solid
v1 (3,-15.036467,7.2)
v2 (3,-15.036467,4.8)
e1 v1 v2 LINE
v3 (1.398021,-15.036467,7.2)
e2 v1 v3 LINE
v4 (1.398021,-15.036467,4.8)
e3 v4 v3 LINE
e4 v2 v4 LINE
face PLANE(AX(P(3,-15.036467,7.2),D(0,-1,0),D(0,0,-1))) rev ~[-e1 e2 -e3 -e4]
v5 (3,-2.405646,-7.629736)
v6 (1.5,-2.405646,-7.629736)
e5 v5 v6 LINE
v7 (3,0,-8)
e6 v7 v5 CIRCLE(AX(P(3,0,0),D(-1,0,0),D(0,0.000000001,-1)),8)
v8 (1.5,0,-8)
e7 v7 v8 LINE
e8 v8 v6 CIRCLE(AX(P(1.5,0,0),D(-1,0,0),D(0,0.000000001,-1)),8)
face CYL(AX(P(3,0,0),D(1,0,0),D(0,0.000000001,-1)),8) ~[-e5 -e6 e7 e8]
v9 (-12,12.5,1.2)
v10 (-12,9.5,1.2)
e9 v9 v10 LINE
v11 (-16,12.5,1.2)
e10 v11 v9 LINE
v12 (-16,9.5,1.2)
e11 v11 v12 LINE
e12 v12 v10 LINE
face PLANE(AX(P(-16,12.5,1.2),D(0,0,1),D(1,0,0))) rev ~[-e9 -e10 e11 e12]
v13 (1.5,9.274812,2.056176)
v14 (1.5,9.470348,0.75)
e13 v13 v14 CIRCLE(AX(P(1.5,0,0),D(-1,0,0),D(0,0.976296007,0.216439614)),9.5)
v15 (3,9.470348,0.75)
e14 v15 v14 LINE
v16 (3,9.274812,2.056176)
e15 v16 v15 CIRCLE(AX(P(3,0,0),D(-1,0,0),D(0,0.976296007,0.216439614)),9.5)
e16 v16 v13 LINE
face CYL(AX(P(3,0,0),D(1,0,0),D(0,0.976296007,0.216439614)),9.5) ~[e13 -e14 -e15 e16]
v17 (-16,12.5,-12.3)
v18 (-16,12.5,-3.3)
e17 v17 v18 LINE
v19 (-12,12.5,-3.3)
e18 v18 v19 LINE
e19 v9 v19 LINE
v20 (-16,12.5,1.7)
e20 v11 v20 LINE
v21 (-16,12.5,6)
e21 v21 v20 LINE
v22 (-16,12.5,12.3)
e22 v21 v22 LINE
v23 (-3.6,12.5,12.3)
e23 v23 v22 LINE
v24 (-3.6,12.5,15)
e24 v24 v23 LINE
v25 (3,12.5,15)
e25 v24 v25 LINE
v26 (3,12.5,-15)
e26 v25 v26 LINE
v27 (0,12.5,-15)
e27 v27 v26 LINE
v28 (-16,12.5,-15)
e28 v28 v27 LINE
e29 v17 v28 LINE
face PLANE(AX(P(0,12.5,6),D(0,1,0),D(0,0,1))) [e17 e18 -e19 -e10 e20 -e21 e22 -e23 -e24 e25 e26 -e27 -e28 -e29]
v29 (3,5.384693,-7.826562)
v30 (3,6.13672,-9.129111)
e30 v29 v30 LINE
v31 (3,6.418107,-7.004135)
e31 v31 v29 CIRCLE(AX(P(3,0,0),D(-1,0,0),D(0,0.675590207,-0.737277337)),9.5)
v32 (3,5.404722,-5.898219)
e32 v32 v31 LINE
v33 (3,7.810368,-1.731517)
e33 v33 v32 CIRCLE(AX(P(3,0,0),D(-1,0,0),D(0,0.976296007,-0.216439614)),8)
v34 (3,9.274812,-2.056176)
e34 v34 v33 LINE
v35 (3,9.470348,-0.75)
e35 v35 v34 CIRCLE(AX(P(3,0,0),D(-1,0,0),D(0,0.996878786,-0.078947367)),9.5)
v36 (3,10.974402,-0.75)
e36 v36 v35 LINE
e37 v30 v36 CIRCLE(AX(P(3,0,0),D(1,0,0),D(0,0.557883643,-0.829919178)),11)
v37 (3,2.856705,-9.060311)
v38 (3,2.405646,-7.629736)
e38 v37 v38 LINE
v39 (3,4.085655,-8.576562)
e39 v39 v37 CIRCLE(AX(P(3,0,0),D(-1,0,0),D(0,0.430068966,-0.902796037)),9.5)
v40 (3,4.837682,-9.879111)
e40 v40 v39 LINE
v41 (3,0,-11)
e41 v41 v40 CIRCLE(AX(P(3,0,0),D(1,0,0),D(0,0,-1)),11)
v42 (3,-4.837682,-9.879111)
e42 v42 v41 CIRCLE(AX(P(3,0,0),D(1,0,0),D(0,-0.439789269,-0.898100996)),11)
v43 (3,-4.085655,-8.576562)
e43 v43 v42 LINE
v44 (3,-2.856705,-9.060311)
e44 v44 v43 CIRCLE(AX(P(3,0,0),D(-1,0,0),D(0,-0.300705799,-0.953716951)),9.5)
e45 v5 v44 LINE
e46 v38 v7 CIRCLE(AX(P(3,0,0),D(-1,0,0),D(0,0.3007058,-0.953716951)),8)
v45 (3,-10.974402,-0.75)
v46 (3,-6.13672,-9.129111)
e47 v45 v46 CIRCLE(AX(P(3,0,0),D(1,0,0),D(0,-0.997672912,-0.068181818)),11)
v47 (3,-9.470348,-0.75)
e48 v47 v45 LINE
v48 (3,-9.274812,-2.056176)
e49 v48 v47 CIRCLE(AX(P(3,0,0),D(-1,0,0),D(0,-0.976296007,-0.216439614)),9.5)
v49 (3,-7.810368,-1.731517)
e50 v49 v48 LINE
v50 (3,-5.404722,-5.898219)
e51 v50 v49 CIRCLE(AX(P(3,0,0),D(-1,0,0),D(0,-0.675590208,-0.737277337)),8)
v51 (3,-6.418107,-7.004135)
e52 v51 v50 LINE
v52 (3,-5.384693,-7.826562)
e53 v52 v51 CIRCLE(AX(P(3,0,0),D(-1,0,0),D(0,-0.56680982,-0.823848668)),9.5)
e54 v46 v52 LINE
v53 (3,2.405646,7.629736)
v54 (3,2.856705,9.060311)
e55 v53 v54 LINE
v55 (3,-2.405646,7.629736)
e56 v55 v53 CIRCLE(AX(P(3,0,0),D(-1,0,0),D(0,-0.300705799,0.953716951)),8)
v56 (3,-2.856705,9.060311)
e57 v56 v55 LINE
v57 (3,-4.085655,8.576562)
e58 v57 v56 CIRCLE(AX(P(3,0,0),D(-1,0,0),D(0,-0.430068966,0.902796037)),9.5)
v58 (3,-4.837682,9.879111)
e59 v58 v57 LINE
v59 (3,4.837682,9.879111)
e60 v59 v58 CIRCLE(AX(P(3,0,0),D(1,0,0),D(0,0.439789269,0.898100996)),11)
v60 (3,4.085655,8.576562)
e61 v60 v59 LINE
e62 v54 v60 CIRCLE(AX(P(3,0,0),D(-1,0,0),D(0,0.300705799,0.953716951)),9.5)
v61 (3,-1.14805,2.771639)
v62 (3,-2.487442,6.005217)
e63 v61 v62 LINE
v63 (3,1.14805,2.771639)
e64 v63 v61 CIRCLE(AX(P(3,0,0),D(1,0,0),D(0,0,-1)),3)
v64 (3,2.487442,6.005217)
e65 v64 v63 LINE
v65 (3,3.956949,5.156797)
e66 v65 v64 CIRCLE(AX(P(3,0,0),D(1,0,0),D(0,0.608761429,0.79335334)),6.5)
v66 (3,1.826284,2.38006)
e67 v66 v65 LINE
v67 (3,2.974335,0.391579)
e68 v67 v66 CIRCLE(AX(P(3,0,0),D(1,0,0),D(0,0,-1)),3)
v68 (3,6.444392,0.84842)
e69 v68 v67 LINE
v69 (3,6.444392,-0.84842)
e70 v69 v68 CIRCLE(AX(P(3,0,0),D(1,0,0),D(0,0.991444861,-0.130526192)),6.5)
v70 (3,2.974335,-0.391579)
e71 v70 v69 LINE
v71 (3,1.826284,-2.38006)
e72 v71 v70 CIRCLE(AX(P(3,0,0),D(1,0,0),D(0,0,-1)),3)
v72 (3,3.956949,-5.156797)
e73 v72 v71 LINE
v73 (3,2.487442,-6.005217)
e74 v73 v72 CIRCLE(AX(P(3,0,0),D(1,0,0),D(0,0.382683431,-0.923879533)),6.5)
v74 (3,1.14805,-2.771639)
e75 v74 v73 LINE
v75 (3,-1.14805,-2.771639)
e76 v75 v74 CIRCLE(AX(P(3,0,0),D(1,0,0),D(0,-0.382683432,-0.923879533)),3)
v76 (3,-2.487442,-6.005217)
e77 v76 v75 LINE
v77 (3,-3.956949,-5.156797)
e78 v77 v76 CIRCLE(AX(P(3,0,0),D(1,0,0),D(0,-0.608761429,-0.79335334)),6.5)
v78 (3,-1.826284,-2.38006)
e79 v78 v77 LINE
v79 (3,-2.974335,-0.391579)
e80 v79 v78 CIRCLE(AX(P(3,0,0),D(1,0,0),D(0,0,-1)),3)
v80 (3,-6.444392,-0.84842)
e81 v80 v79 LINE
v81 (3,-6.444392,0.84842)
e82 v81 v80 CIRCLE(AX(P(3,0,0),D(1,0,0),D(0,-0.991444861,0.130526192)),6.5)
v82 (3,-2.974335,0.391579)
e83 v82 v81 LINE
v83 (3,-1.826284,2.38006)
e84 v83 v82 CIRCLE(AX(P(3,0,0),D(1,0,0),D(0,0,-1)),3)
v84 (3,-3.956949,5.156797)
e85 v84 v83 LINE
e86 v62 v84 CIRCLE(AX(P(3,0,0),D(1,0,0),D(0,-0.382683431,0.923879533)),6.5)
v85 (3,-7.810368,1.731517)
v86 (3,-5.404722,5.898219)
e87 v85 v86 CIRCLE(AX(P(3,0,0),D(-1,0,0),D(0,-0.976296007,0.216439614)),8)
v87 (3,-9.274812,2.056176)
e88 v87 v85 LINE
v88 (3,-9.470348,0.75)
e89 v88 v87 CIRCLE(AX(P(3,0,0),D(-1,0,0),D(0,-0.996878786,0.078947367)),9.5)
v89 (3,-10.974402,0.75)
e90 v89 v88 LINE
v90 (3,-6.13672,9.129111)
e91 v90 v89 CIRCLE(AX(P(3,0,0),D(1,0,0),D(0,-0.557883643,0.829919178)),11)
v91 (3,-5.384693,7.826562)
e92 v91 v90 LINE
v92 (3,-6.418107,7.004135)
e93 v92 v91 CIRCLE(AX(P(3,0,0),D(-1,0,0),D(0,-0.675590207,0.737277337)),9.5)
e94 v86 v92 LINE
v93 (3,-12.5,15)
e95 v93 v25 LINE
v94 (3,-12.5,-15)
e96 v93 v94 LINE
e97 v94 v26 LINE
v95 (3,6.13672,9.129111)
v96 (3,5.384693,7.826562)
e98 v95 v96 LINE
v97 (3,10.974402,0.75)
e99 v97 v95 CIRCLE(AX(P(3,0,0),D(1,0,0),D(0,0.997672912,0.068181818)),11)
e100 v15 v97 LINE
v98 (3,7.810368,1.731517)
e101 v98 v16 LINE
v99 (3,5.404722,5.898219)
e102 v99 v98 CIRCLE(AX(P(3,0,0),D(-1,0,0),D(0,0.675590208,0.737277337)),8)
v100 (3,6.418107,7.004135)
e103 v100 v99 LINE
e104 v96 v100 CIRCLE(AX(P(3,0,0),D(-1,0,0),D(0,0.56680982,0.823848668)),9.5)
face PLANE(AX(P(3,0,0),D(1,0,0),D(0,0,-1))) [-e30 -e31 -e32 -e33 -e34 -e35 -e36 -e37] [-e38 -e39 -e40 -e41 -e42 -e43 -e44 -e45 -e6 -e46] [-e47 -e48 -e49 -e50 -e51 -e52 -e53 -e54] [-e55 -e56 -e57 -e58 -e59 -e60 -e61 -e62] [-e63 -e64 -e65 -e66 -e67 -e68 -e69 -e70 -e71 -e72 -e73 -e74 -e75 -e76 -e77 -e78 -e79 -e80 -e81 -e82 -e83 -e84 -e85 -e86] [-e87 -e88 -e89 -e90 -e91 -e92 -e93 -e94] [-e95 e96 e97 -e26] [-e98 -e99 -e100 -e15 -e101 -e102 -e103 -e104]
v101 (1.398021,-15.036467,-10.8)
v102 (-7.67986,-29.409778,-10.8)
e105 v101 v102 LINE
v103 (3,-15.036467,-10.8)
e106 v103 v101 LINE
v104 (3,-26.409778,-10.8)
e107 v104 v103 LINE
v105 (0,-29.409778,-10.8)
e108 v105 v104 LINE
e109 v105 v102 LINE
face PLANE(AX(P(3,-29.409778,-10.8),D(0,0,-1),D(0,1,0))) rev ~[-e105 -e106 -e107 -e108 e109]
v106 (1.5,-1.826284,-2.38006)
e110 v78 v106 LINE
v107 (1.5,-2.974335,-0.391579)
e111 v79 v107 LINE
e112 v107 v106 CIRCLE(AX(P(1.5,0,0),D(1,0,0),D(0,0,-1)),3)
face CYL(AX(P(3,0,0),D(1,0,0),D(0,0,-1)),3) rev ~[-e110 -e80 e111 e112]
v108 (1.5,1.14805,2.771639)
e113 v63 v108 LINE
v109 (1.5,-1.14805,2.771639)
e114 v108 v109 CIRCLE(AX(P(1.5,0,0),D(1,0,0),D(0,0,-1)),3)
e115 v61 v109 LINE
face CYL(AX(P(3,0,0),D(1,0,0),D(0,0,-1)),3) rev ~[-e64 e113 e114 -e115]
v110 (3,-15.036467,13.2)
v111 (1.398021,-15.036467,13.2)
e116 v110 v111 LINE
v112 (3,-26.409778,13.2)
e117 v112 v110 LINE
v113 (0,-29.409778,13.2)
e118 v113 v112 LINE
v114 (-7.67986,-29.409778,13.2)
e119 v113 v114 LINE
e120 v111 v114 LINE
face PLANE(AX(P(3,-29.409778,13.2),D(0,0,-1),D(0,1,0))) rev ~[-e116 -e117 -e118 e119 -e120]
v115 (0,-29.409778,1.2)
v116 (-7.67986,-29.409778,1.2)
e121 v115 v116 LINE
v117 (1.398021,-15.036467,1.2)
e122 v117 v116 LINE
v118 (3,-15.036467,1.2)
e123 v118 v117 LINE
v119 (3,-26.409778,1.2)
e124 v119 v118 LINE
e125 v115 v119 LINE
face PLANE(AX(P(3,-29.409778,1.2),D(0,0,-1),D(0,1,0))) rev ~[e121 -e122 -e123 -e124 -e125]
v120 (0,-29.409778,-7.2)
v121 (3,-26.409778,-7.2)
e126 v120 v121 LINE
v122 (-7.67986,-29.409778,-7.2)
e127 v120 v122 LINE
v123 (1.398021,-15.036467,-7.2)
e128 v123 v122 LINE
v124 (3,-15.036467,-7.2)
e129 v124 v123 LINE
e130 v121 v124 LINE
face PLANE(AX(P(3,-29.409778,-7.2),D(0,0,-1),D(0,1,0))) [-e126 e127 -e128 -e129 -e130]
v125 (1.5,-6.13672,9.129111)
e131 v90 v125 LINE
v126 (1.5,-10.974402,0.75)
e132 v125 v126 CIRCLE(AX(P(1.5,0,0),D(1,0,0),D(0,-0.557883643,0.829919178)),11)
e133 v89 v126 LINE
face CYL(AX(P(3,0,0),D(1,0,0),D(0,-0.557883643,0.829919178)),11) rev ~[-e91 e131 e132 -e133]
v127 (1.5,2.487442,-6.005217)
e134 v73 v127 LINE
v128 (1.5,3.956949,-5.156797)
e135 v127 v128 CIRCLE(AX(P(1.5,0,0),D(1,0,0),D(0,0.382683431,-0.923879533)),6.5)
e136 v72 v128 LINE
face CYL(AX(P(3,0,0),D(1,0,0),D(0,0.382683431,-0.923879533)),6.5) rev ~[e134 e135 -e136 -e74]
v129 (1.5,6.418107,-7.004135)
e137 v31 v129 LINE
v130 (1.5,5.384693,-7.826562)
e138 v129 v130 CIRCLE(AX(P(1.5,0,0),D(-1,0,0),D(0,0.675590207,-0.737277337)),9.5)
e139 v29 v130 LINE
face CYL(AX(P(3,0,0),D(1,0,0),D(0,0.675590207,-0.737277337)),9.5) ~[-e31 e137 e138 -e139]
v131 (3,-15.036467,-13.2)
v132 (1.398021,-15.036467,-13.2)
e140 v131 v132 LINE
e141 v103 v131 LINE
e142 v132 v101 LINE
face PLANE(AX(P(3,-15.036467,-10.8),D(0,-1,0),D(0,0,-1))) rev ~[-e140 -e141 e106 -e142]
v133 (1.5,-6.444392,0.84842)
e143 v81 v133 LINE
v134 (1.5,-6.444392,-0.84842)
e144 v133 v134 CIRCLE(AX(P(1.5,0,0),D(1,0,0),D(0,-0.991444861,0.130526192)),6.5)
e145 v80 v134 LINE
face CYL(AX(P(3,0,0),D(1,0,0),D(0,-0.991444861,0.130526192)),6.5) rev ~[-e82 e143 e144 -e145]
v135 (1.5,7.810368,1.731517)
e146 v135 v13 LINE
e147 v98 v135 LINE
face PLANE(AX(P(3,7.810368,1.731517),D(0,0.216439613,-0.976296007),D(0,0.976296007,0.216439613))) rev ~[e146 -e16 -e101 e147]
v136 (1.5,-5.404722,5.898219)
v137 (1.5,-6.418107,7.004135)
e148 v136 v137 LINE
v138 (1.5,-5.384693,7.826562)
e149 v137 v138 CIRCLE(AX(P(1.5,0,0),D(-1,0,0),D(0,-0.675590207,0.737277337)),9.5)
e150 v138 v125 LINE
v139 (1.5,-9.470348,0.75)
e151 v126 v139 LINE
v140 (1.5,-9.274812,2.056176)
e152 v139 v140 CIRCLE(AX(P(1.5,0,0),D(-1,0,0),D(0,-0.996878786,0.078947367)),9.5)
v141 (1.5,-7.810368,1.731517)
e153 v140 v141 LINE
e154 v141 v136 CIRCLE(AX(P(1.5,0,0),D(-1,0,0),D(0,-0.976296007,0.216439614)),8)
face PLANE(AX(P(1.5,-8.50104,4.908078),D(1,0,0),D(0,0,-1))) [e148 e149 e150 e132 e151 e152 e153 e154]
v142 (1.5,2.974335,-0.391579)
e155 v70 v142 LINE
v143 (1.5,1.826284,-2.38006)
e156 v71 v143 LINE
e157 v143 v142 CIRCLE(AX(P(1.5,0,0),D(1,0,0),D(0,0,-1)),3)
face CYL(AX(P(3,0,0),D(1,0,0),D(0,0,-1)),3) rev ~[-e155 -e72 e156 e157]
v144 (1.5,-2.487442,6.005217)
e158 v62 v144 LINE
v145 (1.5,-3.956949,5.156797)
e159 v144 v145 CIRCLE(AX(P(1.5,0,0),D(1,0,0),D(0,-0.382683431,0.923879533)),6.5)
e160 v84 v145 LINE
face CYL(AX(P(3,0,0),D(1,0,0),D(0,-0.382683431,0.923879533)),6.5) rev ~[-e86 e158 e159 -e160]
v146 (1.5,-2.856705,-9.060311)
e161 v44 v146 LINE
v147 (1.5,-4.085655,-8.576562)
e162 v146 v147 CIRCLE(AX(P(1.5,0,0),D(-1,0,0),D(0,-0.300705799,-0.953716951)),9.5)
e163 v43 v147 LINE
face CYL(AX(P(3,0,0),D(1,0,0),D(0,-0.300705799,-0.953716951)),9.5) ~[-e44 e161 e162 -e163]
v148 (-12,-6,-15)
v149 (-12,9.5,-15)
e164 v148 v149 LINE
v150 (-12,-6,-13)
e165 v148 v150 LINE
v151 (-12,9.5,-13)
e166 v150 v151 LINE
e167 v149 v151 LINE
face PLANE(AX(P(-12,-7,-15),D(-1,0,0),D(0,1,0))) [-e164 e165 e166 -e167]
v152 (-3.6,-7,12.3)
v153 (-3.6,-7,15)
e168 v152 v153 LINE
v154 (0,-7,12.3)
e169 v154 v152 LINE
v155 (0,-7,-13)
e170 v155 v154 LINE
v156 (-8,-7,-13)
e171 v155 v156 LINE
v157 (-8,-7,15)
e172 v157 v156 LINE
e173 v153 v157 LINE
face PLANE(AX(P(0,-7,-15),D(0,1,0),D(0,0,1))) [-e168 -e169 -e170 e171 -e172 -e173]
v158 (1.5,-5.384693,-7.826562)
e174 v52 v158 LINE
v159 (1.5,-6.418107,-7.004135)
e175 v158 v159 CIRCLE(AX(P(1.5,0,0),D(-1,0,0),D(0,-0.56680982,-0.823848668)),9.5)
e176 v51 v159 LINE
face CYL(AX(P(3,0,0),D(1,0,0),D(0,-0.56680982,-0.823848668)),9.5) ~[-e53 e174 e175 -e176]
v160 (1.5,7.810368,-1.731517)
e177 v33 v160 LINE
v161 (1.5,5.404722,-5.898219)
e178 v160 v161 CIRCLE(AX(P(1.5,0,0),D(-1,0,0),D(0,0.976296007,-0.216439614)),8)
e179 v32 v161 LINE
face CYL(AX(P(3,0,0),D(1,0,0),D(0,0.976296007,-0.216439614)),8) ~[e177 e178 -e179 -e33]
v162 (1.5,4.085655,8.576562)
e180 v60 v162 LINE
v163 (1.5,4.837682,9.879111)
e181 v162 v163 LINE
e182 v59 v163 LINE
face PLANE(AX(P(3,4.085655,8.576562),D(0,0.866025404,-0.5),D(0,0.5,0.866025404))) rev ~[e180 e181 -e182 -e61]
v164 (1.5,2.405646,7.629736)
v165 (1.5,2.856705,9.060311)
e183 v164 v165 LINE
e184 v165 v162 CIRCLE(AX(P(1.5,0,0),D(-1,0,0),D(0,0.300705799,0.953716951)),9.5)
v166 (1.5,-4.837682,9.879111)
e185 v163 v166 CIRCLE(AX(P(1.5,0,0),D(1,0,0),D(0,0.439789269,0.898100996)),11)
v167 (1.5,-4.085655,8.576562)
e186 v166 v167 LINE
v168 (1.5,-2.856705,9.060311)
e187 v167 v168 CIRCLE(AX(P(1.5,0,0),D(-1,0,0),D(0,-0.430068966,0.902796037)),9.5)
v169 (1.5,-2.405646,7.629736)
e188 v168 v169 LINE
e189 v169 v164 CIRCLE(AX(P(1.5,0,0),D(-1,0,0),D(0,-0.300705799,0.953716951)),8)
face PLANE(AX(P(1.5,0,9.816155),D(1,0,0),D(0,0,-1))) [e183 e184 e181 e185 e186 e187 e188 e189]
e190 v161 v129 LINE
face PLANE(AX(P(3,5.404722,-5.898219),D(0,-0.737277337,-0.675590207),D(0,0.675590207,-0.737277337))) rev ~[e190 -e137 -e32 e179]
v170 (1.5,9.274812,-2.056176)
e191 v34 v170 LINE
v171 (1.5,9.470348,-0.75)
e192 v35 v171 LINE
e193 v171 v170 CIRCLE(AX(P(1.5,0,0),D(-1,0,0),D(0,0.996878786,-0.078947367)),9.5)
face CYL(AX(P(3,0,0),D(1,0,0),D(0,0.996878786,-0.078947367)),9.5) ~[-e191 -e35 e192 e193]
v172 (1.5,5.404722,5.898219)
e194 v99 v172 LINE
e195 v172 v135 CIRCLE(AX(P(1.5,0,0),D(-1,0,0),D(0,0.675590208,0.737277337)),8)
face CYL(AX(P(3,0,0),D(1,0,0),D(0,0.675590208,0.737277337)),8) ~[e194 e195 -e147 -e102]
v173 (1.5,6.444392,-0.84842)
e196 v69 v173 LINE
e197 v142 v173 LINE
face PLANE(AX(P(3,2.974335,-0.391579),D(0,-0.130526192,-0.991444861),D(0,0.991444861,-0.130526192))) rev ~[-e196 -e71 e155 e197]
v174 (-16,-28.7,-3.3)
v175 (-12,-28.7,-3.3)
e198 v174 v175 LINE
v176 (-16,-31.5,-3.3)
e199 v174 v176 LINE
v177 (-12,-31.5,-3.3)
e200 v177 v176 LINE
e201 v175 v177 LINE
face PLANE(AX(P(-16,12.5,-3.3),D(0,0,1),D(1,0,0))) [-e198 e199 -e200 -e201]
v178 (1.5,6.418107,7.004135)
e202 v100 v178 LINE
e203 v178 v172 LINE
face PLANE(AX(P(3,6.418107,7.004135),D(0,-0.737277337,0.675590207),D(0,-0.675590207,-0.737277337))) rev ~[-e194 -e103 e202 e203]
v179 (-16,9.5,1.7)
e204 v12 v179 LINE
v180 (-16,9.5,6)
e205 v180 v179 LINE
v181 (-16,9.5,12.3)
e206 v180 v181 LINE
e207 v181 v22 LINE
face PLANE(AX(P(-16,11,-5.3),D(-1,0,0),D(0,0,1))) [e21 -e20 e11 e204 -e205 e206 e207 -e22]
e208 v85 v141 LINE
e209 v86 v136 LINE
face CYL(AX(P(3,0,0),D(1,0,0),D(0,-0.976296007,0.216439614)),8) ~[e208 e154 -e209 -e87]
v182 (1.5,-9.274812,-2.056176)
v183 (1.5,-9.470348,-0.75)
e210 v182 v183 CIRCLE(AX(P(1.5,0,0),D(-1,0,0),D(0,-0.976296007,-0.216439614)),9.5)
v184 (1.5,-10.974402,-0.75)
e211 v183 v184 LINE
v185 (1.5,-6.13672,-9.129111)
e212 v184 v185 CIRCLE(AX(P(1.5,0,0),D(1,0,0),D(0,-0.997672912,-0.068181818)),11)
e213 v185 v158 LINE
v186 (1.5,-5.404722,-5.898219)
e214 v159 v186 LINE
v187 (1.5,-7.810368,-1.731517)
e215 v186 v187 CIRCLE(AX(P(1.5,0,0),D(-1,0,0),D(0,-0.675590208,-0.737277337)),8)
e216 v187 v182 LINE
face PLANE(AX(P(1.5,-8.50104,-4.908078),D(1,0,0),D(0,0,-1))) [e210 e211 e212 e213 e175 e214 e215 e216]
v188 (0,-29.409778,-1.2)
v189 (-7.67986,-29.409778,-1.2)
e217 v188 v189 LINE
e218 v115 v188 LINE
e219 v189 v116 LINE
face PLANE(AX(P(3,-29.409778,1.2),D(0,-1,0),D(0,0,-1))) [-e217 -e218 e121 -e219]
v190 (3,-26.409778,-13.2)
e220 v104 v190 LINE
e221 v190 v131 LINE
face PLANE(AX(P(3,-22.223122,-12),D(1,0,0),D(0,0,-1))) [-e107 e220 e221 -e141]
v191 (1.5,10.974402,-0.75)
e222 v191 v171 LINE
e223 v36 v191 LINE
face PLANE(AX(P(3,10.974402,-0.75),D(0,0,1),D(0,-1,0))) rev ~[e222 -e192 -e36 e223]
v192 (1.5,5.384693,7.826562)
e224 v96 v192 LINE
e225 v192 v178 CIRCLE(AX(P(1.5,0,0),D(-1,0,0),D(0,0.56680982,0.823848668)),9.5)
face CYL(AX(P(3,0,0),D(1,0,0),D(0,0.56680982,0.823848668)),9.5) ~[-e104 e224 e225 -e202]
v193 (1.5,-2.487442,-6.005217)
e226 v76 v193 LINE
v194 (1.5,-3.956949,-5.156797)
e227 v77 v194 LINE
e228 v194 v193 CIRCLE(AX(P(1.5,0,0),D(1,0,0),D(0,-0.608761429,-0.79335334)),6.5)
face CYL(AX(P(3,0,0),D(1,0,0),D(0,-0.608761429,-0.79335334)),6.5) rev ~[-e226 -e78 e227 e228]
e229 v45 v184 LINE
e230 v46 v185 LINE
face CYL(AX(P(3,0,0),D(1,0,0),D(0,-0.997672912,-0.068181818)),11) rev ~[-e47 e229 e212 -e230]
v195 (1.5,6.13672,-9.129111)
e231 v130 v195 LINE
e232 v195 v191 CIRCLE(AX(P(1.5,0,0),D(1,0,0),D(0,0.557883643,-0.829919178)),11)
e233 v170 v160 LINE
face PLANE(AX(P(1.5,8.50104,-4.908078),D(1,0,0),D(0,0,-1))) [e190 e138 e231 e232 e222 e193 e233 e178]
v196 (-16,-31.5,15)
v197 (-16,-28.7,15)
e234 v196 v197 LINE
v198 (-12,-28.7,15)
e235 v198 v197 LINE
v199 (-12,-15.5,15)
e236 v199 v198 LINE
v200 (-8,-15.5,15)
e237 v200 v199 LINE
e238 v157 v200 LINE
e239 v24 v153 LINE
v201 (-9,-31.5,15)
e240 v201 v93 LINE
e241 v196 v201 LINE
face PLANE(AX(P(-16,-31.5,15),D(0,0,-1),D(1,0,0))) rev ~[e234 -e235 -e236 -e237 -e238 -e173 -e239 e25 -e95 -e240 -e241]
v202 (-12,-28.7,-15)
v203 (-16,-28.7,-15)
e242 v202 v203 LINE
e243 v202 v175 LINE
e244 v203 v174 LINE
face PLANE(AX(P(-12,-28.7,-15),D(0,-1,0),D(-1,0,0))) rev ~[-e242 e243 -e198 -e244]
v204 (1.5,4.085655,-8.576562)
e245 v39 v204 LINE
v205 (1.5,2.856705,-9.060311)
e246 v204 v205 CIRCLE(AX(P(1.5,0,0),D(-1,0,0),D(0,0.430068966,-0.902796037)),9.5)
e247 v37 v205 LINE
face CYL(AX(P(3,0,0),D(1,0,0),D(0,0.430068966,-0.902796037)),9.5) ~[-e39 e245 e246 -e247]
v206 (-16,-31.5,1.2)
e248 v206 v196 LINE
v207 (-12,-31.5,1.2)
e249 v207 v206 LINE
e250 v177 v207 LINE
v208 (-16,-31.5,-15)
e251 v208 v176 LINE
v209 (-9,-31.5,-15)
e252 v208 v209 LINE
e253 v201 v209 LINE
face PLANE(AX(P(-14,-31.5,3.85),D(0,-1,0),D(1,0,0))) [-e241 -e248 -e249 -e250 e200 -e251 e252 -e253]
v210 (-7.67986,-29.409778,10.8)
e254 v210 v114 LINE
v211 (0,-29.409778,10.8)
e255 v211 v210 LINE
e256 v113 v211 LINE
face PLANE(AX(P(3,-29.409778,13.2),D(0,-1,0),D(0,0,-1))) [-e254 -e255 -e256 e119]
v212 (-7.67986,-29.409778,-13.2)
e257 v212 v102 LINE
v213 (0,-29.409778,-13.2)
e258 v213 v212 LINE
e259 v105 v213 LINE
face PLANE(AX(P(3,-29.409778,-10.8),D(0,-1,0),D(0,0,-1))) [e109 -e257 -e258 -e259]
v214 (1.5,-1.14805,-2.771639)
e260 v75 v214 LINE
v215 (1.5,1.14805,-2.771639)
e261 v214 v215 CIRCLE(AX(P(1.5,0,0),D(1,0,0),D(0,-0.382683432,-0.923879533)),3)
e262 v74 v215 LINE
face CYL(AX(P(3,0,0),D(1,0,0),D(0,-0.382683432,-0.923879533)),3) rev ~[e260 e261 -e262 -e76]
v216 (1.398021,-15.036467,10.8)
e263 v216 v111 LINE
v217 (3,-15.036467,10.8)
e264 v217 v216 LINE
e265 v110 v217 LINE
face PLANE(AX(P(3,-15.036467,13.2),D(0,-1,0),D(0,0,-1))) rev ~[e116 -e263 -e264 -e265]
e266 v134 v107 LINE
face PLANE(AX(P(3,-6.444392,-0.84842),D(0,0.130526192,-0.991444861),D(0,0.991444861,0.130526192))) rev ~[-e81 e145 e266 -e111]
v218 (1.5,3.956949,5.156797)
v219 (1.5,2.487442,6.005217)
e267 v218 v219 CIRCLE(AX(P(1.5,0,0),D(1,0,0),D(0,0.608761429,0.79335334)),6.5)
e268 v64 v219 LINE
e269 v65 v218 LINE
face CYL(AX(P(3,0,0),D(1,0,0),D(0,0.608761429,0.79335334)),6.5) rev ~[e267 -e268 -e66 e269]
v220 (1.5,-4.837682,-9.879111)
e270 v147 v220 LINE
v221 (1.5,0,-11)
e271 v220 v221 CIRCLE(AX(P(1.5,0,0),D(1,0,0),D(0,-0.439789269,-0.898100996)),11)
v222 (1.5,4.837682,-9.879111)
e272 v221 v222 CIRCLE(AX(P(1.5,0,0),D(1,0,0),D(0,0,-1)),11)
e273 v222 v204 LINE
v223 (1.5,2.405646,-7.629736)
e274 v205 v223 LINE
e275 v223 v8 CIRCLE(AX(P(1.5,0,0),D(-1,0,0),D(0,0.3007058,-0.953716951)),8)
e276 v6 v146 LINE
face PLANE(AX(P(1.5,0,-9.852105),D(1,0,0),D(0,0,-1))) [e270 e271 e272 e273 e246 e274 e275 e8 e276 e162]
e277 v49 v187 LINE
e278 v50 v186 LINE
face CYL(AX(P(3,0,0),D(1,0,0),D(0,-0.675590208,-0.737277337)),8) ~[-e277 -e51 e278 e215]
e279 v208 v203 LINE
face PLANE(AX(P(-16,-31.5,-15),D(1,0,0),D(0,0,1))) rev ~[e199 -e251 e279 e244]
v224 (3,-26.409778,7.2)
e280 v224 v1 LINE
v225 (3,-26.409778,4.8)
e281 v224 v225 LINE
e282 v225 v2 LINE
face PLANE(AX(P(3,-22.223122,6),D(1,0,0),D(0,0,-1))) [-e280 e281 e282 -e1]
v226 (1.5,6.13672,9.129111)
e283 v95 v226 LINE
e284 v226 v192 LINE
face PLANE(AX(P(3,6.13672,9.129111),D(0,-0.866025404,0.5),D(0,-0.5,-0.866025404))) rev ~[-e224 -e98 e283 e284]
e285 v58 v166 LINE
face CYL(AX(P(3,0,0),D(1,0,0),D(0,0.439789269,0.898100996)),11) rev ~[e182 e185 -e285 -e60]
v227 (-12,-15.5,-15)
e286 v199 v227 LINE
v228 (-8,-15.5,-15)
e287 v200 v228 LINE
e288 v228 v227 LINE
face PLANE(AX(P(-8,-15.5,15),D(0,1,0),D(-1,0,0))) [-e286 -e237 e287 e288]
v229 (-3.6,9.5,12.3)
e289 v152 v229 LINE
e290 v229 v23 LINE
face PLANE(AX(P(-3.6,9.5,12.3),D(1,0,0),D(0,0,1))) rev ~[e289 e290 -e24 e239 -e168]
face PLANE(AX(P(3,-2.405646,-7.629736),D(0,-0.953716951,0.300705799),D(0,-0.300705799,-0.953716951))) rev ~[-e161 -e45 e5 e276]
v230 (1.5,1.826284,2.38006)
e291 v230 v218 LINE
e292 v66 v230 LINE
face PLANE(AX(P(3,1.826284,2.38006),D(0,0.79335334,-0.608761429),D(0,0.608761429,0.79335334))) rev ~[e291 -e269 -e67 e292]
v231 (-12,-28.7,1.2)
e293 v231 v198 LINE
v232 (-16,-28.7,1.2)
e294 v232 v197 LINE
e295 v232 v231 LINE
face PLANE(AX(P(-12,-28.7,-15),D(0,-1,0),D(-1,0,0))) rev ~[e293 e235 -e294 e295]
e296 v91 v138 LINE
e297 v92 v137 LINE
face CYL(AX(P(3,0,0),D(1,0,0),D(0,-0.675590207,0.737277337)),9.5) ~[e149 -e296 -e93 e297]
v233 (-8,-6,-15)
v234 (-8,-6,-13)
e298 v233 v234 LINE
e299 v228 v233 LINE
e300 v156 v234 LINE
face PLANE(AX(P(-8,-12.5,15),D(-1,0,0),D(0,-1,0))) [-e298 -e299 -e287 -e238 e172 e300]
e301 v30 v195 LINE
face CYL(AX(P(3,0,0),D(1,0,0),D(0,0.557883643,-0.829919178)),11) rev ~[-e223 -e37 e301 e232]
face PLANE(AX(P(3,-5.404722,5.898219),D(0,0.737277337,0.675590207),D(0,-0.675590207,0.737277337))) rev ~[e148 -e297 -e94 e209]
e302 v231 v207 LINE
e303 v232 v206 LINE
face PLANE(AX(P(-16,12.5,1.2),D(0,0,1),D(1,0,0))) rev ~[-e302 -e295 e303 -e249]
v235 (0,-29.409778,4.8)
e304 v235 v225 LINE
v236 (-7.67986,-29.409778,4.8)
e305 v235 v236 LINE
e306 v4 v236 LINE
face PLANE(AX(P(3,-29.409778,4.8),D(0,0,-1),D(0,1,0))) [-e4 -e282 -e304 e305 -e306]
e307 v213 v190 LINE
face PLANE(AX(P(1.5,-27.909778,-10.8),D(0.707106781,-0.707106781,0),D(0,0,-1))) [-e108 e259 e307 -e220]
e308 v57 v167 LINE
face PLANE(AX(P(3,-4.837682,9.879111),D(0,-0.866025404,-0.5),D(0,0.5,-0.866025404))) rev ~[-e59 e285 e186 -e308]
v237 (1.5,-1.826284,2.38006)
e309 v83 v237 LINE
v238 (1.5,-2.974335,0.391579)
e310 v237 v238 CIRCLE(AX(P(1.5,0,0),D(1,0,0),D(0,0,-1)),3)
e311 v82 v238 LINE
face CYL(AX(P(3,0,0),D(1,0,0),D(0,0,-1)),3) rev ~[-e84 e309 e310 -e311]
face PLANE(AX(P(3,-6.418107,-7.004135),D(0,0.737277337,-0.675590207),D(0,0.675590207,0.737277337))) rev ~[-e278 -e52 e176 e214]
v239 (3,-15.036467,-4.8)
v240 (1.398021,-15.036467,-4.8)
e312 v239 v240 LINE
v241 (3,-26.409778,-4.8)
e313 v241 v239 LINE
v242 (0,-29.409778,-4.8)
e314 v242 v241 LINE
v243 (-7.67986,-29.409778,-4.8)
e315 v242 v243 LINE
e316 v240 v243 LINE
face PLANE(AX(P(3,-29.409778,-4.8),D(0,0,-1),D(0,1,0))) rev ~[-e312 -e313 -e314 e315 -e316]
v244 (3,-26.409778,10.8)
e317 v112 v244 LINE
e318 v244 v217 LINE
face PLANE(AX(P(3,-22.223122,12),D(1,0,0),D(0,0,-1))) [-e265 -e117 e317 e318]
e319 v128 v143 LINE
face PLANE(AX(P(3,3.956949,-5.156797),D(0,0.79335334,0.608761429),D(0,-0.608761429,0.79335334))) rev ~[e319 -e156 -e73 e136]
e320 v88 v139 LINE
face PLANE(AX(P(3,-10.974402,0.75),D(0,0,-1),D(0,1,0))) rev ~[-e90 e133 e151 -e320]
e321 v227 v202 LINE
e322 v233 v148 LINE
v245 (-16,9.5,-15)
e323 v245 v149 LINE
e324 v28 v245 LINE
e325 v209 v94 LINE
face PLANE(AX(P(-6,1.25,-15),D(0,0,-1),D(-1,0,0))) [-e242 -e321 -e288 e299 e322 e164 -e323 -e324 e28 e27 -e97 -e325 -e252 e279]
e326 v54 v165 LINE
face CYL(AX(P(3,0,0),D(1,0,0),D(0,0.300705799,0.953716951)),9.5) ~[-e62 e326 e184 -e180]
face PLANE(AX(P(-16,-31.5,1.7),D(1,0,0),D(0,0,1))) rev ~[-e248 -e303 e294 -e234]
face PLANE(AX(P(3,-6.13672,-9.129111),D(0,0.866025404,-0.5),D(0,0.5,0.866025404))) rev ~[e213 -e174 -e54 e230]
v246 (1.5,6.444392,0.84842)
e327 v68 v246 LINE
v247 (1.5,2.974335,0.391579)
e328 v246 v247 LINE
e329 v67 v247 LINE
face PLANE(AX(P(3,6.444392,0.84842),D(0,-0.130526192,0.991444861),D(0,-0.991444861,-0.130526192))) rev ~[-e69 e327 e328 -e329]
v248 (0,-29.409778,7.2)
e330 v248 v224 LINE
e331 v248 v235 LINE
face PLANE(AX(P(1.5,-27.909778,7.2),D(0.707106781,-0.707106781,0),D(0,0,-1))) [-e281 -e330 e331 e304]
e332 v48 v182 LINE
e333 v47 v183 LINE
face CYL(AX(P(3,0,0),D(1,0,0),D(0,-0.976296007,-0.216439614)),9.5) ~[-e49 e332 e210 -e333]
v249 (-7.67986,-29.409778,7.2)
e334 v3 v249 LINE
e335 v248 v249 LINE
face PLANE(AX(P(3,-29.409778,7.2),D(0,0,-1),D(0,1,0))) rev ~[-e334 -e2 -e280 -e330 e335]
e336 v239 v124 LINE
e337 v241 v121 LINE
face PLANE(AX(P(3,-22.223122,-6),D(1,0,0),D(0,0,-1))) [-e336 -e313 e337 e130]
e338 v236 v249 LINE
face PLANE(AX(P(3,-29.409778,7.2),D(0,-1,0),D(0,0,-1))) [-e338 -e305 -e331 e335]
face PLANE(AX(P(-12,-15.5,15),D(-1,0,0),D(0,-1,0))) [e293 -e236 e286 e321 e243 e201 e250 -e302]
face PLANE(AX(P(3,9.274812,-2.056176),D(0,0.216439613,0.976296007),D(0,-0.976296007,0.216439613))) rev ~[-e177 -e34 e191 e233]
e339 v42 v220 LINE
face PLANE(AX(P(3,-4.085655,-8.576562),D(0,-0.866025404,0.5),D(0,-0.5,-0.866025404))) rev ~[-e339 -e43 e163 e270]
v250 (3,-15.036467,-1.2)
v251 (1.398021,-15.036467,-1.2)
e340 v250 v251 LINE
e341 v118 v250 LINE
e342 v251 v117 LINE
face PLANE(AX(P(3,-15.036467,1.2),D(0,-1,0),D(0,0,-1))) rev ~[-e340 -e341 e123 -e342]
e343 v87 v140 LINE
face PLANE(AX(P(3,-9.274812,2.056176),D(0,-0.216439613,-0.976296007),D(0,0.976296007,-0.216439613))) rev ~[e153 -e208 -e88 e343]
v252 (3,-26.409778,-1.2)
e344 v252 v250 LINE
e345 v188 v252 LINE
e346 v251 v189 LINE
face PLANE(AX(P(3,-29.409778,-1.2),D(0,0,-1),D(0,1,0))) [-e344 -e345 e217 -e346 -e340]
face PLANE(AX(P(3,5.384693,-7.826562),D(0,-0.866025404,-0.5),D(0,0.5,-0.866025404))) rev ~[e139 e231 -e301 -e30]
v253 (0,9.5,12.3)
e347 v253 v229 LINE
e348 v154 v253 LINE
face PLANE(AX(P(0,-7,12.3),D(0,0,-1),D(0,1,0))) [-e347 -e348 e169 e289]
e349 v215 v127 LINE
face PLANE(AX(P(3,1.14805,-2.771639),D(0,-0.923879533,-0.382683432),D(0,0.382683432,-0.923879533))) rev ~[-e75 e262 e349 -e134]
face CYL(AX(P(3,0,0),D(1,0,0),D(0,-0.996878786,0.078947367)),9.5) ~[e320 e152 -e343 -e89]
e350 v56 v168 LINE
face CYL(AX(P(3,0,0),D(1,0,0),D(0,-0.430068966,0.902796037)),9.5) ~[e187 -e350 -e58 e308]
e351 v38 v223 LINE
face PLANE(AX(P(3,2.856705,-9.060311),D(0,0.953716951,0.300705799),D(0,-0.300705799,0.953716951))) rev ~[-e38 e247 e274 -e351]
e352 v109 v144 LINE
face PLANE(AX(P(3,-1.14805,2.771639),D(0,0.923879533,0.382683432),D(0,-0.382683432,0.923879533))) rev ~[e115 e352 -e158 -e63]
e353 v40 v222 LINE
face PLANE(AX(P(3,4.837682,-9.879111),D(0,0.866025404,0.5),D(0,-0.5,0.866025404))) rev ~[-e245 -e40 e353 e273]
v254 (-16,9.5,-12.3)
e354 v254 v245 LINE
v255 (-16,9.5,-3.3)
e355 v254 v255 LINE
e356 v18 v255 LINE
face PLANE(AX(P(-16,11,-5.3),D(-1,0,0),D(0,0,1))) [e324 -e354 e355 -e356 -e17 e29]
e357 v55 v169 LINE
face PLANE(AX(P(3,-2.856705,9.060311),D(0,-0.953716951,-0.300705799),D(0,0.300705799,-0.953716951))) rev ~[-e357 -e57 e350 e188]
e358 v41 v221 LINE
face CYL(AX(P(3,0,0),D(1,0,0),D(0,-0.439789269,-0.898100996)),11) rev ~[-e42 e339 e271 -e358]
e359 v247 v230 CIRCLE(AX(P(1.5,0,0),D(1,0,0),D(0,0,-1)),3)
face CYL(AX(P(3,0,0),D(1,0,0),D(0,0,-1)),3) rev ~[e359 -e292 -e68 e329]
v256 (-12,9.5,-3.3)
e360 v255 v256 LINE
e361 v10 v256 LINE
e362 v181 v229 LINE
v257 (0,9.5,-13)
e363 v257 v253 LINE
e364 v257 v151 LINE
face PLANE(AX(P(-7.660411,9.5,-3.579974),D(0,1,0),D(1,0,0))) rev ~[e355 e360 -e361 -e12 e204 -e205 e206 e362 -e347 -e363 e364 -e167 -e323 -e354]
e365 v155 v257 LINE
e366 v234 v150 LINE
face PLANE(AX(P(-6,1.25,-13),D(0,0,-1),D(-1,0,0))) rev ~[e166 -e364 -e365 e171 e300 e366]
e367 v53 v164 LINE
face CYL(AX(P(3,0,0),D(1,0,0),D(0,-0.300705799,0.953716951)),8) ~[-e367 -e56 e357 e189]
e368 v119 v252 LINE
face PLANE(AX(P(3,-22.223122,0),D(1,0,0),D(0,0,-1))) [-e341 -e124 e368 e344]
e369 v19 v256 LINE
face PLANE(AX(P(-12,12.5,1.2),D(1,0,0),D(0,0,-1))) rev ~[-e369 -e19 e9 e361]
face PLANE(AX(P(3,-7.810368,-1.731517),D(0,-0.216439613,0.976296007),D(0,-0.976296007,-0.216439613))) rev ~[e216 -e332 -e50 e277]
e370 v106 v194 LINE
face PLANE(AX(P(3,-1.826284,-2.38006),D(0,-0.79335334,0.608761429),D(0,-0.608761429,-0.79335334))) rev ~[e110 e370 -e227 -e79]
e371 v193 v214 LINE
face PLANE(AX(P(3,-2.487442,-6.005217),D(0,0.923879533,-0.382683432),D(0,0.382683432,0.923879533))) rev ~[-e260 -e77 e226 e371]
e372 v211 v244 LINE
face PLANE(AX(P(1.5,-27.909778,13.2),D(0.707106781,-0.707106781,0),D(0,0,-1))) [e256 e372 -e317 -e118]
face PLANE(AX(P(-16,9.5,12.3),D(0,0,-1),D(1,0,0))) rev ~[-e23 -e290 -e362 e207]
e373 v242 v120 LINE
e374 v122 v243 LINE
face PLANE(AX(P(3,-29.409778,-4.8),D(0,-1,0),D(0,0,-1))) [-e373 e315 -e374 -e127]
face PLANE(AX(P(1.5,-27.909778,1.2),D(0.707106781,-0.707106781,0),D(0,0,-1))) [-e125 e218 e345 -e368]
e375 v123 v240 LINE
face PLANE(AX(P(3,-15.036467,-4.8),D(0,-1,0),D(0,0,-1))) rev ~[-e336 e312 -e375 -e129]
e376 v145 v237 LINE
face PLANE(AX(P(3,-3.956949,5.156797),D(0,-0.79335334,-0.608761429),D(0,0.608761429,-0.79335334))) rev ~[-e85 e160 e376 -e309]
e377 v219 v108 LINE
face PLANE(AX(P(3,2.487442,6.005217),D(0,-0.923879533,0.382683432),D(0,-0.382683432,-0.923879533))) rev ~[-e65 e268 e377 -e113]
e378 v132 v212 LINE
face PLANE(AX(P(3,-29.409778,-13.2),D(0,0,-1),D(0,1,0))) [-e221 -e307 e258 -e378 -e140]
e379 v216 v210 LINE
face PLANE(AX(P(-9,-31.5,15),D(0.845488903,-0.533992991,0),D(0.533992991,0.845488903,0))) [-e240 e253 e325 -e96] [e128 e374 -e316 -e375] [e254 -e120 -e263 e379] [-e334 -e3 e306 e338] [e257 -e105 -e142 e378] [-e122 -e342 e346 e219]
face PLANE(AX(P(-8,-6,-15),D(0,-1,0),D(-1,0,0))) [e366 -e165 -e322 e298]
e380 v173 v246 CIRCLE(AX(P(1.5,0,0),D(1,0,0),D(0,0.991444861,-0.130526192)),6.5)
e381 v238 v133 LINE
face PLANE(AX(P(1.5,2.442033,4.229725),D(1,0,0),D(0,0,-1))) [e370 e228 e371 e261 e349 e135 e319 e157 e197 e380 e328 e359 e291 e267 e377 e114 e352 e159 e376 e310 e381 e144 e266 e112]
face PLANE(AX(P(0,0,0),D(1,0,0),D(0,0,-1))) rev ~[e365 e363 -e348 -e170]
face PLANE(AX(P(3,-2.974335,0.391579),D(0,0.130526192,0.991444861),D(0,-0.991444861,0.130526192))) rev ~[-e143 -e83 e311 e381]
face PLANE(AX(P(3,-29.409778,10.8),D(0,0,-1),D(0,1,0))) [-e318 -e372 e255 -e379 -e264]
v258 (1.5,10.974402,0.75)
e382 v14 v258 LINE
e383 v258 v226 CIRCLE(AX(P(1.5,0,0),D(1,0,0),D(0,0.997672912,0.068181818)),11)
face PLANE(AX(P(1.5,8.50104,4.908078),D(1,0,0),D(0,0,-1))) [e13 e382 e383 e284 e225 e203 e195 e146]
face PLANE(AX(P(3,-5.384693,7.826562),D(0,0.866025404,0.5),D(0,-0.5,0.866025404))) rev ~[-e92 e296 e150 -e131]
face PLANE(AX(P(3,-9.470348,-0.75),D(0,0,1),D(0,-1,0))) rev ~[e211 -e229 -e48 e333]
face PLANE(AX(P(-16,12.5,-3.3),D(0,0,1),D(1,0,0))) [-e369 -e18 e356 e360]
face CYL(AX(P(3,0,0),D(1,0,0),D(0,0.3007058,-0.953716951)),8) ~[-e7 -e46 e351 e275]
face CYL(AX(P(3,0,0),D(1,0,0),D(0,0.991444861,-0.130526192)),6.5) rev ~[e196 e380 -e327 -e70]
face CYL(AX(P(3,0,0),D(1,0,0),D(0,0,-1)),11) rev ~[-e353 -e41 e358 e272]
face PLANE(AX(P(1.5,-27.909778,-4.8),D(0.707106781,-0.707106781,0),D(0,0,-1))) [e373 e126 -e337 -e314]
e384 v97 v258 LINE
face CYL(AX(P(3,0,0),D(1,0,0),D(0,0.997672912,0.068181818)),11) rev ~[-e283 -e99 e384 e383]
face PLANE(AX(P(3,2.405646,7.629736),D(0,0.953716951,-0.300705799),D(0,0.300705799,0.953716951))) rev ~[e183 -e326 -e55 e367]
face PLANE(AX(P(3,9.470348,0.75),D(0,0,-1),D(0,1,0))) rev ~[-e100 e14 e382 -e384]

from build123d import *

# Parameters (mm, degrees)
SKETCH1_W            = 30
SKETCH1_H            = 25
BOSS_EXTRUDE1_DEPTH  = 3
SKETCH2_W            = 9
SKETCH2_H            = 3
SKETCH2_W_2          = 14
BOSS_EXTRUDE2_DEPTH  = 16
SKETCH3_W            = 4.3
SKETCH3_H            = 3
BOSS_EXTRUDE3_DEPTH  = 12
SKETCH4_W            = 30
SKETCH4_H            = 5.5
BOSS_EXTRUDE4_DEPTH  = 8
BOSS_EXTRUDE5_DEPTH  = 30
SKETCH7_W            = 4
SKETCH7_H            = 9
SKETCH7_H_2          = 16.7
BOSS_EXTRUDE6_DEPTH  = 3
BOSS_EXTRUDE8_REACH  = 41.727
SKETCH11_W           = 2.4
SKETCH11_H           = 14.373311352
CHAMFER1_SIZE        = 3
SKETCH12_R           = 3
CUT_EXTRUDE1_DEPTH   = 1.5
SKETCH13_W           = 2.7
SKETCH13_H           = 19.5
BOSS_EXTRUDE9_DEPTH  = 3.6
SKETCH15_W           = 12
SKETCH15_H           = 16.5
BOSS_EXTRUDE11_DEPTH = 2
SKETCH16_W           = 16.679178025
SKETCH16_H           = 22.840052547
BOSS_EXTRUDE12_DEPTH = 3
SKETCH17_W           = 12.4
SKETCH17_H           = 2.7
CUT_EXTRUDE2_DEPTH   = 13
SKETCH18_W           = 4
SKETCH18_H           = 4.5
CUT_EXTRUDE4_DEPTH   = 50.162994213
SKETCH19_W           = 4
SKETCH19_H           = 4.3
BOSS_EXTRUDE13_DEPTH = 3
SKETCH20_W           = 4
SKETCH20_H           = 1
CUT_EXTRUDE5_DEPTH   = 13
SKETCH21_W           = 4
SKETCH21_H           = 0.2
CUT_EXTRUDE6_DEPTH   = 47.349217901


with BuildPart() as part:
    # Sketch1 → Boss-Extrude1 (new body)
    with BuildSketch(Plane(origin=(0, 0, 0), x_dir=(0, 0, -1), z_dir=(1, 0, 0))):
        Rectangle(SKETCH1_W, SKETCH1_H)
    extrude(amount=BOSS_EXTRUDE1_DEPTH)

    # Sketch2 → Boss-Extrude2 (add)
    with BuildSketch(Plane.ZY):
        with Locations((10.5, 11)):
            Rectangle(SKETCH2_W, SKETCH2_H)
        with Locations((-5.3, 11)):
            Rectangle(SKETCH2_W_2, SKETCH2_H)
    extrude(amount=BOSS_EXTRUDE2_DEPTH)

    # Sketch3 → Boss-Extrude3 (add)
    with BuildSketch(Plane.ZY):
        with Locations((3.85, 11)):
            Rectangle(SKETCH3_W, SKETCH3_H)
    extrude(amount=BOSS_EXTRUDE3_DEPTH)

    # Sketch4 → Boss-Extrude4 (add)
    with BuildSketch(Plane.ZY):
        with Locations((0, -9.75)):
            Rectangle(SKETCH4_W, SKETCH4_H)
    extrude(amount=BOSS_EXTRUDE4_DEPTH)

    # Sketch5 → Boss-Extrude5 (add)
    with BuildSketch(Plane.XY.offset(15)):
        Polygon((-12, -31.5), (-9, -31.5), (3, -12.5), (-8, -12.5), (-8, -15.5), (-12, -15.5), align=None)
    extrude(amount=-BOSS_EXTRUDE5_DEPTH)

    # Sketch7 → Boss-Extrude6 (add)
    with BuildSketch(Plane.XZ.offset(31.5)):
        with Locations((-14, 10.5)):
            Rectangle(SKETCH7_W, SKETCH7_H)
        with Locations((-14, -6.65)):
            Rectangle(SKETCH7_W, SKETCH7_H_2)
    extrude(amount=-BOSS_EXTRUDE6_DEPTH)

    # Boss-Extrude8: up to this plane
    boss_extrude8_end = Plane(origin=(-9, -31.5, -39.207436874), z_dir=(0.8454889030309711, -0.5339929913879816, 0))
    # Sketch11 → Boss-Extrude8 (add, up to the surface)
    with BuildSketch(Plane(origin=(3, 0, 0), x_dir=(0, 0, -1), z_dir=(1, 0, 0)), mode=Mode.PRIVATE) as boss_extrude8_sk1:
        with Locations((-12, -22.223122385)):
            Rectangle(SKETCH11_W, SKETCH11_H)
    boss_extrude8_tool1 = split(extrude(boss_extrude8_sk1.sketch, amount=-BOSS_EXTRUDE8_REACH, mode=Mode.PRIVATE), bisect_by=boss_extrude8_end, keep=Keep.BOTH, mode=Mode.PRIVATE)
    add(boss_extrude8_tool1.solids().sort_by_distance((3, -22.223122, 12))[0])
    # Sketch11 → Boss-Extrude8 (add, up to the surface)
    with BuildSketch(Plane(origin=(3, 0, 0), x_dir=(0, 0, -1), z_dir=(1, 0, 0)), mode=Mode.PRIVATE) as boss_extrude8_sk2:
        with Locations((-6, -22.223122385)):
            Rectangle(SKETCH11_W, SKETCH11_H)
    boss_extrude8_tool2 = split(extrude(boss_extrude8_sk2.sketch, amount=-BOSS_EXTRUDE8_REACH, mode=Mode.PRIVATE), bisect_by=boss_extrude8_end, keep=Keep.BOTH, mode=Mode.PRIVATE)
    add(boss_extrude8_tool2.solids().sort_by_distance((3, -22.223122, 6))[0])
    # Sketch11 → Boss-Extrude8 (add, up to the surface)
    with BuildSketch(Plane(origin=(3, 0, 0), x_dir=(0, 0, -1), z_dir=(1, 0, 0)), mode=Mode.PRIVATE) as boss_extrude8_sk3:
        with Locations((0, -22.223122385)):
            Rectangle(SKETCH11_W, SKETCH11_H)
    boss_extrude8_tool3 = split(extrude(boss_extrude8_sk3.sketch, amount=-BOSS_EXTRUDE8_REACH, mode=Mode.PRIVATE), bisect_by=boss_extrude8_end, keep=Keep.BOTH, mode=Mode.PRIVATE)
    add(boss_extrude8_tool3.solids().sort_by_distance((3, -22.223122, 0))[0])
    # Sketch11 → Boss-Extrude8 (add, up to the surface)
    with BuildSketch(Plane(origin=(3, 0, 0), x_dir=(0, 0, -1), z_dir=(1, 0, 0)), mode=Mode.PRIVATE) as boss_extrude8_sk4:
        with Locations((6, -22.223122385)):
            Rectangle(SKETCH11_W, SKETCH11_H)
    boss_extrude8_tool4 = split(extrude(boss_extrude8_sk4.sketch, amount=-BOSS_EXTRUDE8_REACH, mode=Mode.PRIVATE), bisect_by=boss_extrude8_end, keep=Keep.BOTH, mode=Mode.PRIVATE)
    add(boss_extrude8_tool4.solids().sort_by_distance((3, -22.223122, -6))[0])
    # Sketch11 → Boss-Extrude8 (add, up to the surface)
    with BuildSketch(Plane(origin=(3, 0, 0), x_dir=(0, 0, -1), z_dir=(1, 0, 0)), mode=Mode.PRIVATE) as boss_extrude8_sk5:
        with Locations((12, -22.223122385)):
            Rectangle(SKETCH11_W, SKETCH11_H)
    boss_extrude8_tool5 = split(extrude(boss_extrude8_sk5.sketch, amount=-BOSS_EXTRUDE8_REACH, mode=Mode.PRIVATE), bisect_by=boss_extrude8_end, keep=Keep.BOTH, mode=Mode.PRIVATE)
    add(boss_extrude8_tool5.solids().sort_by_distance((3, -22.223122, -12))[0])

    # Chamfer1
    chamfer1_edges = [part.edges().sort_by_distance(p)[0] for p in [
        (3, -29.409778061, 12),
        (3, -29.409778061, 6),
        (3, -29.409778061, 0),
        (3, -29.409778061, -6),
        (3, -29.409778061, -12),
    ]]
    chamfer(chamfer1_edges, length=CHAMFER1_SIZE)

    # Sketch12 → Cut-Extrude1 (cut)
    with BuildSketch(Plane(origin=(3, 0, 0), x_dir=(0, 0, -1), z_dir=(1, 0, 0))):
        with BuildLine():
            Line((-0.75, 9.470348462), (-0.75, 10.974402034))
            ThreePointArc((-0.75, 10.974402034), (-5.5, 9.526279442), (-9.129110953, 6.13672007))
            Line((-9.129110953, 6.13672007), (-7.826562351, 5.384693284))
            ThreePointArc((-7.826562351, 5.384693284), (-7.433328979, 5.915709618), (-7.0041347, 6.418106972))
            ThreePointArc((-7.0041347, 6.418106972), (-4.75, 8.227241336), (-2.056176332, 9.274812068))
            ThreePointArc((-2.056176332, 9.274812068), (-1.406490321, 9.39530654), (-0.75, 9.470348462))
        make_face()
        with BuildLine():
            Line((-8.576562351, 4.085655178), (-9.879110953, 4.837681964))
            ThreePointArc((-9.879110953, 4.837681964), (-11, 0), (-9.879110953, -4.837681964))
            Line((-9.879110953, -4.837681964), (-8.576562351, -4.085655178))
            ThreePointArc((-8.576562351, -4.085655178), (-8.8398193, -3.479596922), (-9.060311032, -2.856705095))
            ThreePointArc((-9.060311032, -2.856705095), (-9.5, 0), (-9.060311032, 2.856705095))
            ThreePointArc((-9.060311032, 2.856705095), (-8.8398193, 3.479596922), (-8.576562351, 4.085655178))
        make_face()
        with BuildLine():
            Line((-7.826562351, -5.384693284), (-9.129110953, -6.13672007))
            ThreePointArc((-9.129110953, -6.13672007), (-5.5, -9.526279442), (-0.75, -10.974402034))
            Line((-0.75, -10.974402034), (-0.75, -9.470348462))
            ThreePointArc((-0.75, -9.470348462), (-1.406490321, -9.39530654), (-2.056176332, -9.274812068))
            ThreePointArc((-2.056176332, -9.274812068), (-4.75, -8.227241336), (-7.0041347, -6.418106972))
            ThreePointArc((-7.0041347, -6.418106972), (-7.433328979, -5.915709618), (-7.826562351, -5.384693284))
        make_face()
        with BuildLine():
            ThreePointArc((0.75, -10.974402034), (5.5, -9.526279442), (9.129110953, -6.13672007))
            Line((9.129110953, -6.13672007), (7.826562351, -5.384693284))
            ThreePointArc((7.826562351, -5.384693284), (7.433328979, -5.915709618), (7.0041347, -6.418106972))
            ThreePointArc((7.0041347, -6.418106972), (4.75, -8.227241336), (2.056176332, -9.274812068))
            ThreePointArc((2.056176332, -9.274812068), (1.406490321, -9.39530654), (0.75, -9.470348462))
            Line((0.75, -9.470348462), (0.75, -10.974402034))
        make_face()
        with BuildLine():
            ThreePointArc((11, 0), (10.716114512, 2.482919604), (9.879110953, 4.837681964))
            Line((9.879110953, 4.837681964), (8.576562351, 4.085655178))
            ThreePointArc((8.576562351, 4.085655178), (8.8398193, 3.479596922), (9.060311032, 2.856705095))
            ThreePointArc((9.060311032, 2.856705095), (9.389434349, 1.445172169), (9.5, 0))
            ThreePointArc((9.5, 0), (9.389434349, -1.445172169), (9.060311032, -2.856705095))
            ThreePointArc((9.060311032, -2.856705095), (8.8398193, -3.479596922), (8.576562351, -4.085655178))
            Line((8.576562351, -4.085655178), (9.879110953, -4.837681964))
            ThreePointArc((9.879110953, -4.837681964), (10.716114512, -2.482919604), (11, 0))
        make_face()
        with BuildLine():
            ThreePointArc((9.129110953, 6.13672007), (5.5, 9.526279442), (0.75, 10.974402034))
            Line((0.75, 10.974402034), (0.75, 9.470348462))
            ThreePointArc((0.75, 9.470348462), (1.406490321, 9.39530654), (2.056176332, 9.274812068))
            ThreePointArc((2.056176332, 9.274812068), (4.75, 8.227241336), (7.0041347, 6.418106972))
            ThreePointArc((7.0041347, 6.418106972), (7.433328979, 5.915709618), (7.826562351, 5.384693284))
            Line((7.826562351, 5.384693284), (9.129110953, 6.13672007))
        make_face()
        with BuildLine():
            Line((-1.731516912, 7.810368057), (-2.056176332, 9.274812068))
            ThreePointArc((-2.056176332, 9.274812068), (-4.75, 8.227241336), (-7.0041347, 6.418106972))
            Line((-7.0041347, 6.418106972), (-5.898218694, 5.404721661))
            ThreePointArc((-5.898218694, 5.404721661), (-4, 6.92820323), (-1.731516912, 7.810368057))
        make_face()
        with BuildLine():
            Line((-7.629735606, 2.405646396), (-9.060311032, 2.856705095))
            ThreePointArc((-9.060311032, 2.856705095), (-9.5, 0), (-9.060311032, -2.856705095))
            Line((-9.060311032, -2.856705095), (-7.629735606, -2.405646396))
            ThreePointArc((-7.629735606, -2.405646396), (-8, 0), (-7.629735606, 2.405646396))
        make_face()
        with BuildLine():
            Line((-5.898218694, -5.404721661), (-7.0041347, -6.418106972))
            ThreePointArc((-7.0041347, -6.418106972), (-4.75, -8.227241336), (-2.056176332, -9.274812068))
            Line((-2.056176332, -9.274812068), (-1.731516912, -7.810368057))
            ThreePointArc((-1.731516912, -7.810368057), (-4, -6.92820323), (-5.898218694, -5.404721661))
        make_face()
        with BuildLine():
            ThreePointArc((2.056176332, -9.274812068), (4.75, -8.227241336), (7.0041347, -6.418106972))
            Line((7.0041347, -6.418106972), (5.898218694, -5.404721661))
            ThreePointArc((5.898218694, -5.404721661), (4, -6.92820323), (1.731516912, -7.810368057))
            Line((1.731516912, -7.810368057), (2.056176332, -9.274812068))
        make_face()
        with BuildLine():
            ThreePointArc((9.5, 0), (9.389434349, 1.445172169), (9.060311032, 2.856705095))
            Line((9.060311032, 2.856705095), (7.629735606, 2.405646396))
            ThreePointArc((7.629735606, 2.405646396), (7.906892084, 1.21698709), (8, 0))
            ThreePointArc((8, 0), (7.906892084, -1.21698709), (7.629735606, -2.405646396))
            Line((7.629735606, -2.405646396), (9.060311032, -2.856705095))
            ThreePointArc((9.060311032, -2.856705095), (9.389434349, -1.445172169), (9.5, 0))
        make_face()
        with BuildLine():
            ThreePointArc((7.0041347, 6.418106972), (4.75, 8.227241336), (2.056176332, 9.274812068))
            Line((2.056176332, 9.274812068), (1.731516912, 7.810368057))
            ThreePointArc((1.731516912, 7.810368057), (4, 6.92820323), (5.898218694, 5.404721661))
            Line((5.898218694, 5.404721661), (7.0041347, 6.418106972))
        make_face()
        with BuildLine():
            Line((-2.380060021, 1.826284287), (-5.156796712, 3.956949289))
            ThreePointArc((-5.156796712, 3.956949289), (-5.629165125, 3.25), (-6.005216961, 2.48744231))
            Line((-6.005216961, 2.48744231), (-2.771638598, 1.148050297))
            ThreePointArc((-2.771638598, 1.148050297), (-2.598076211, 1.5), (-2.380060021, 1.826284287))
        make_face()
        with BuildLine():
            Line((-2.771638598, -1.148050297), (-6.005216961, -2.48744231))
            ThreePointArc((-6.005216961, -2.48744231), (-5.629165125, -3.25), (-5.156796712, -3.956949289))
            Line((-5.156796712, -3.956949289), (-2.380060021, -1.826284287))
            ThreePointArc((-2.380060021, -1.826284287), (-2.598076211, -1.5), (-2.771638598, -1.148050297))
        make_face()
        with BuildLine():
            Line((-0.391578577, -2.974334584), (-0.848420249, -6.444391599))
            ThreePointArc((-0.848420249, -6.444391599), (0, -6.5), (0.848420249, -6.444391599))
            Line((0.848420249, -6.444391599), (0.391578577, -2.974334584))
            ThreePointArc((0.391578577, -2.974334584), (0, -3), (-0.391578577, -2.974334584))
        make_face()
        with BuildLine():
            ThreePointArc((5.156796712, -3.956949289), (5.629165125, -3.25), (6.005216961, -2.48744231))
            Line((6.005216961, -2.48744231), (2.771638598, -1.148050297))
            ThreePointArc((2.771638598, -1.148050297), (2.598076211, -1.5), (2.380060021, -1.826284287))
            Line((2.380060021, -1.826284287), (5.156796712, -3.956949289))
        make_face()
        with BuildLine():
            ThreePointArc((6.005216961, 2.48744231), (5.629165125, 3.25), (5.156796712, 3.956949289))
            Line((5.156796712, 3.956949289), (2.380060021, 1.826284287))
            ThreePointArc((2.380060021, 1.826284287), (2.598076211, 1.5), (2.771638598, 1.148050297))
            Line((2.771638598, 1.148050297), (6.005216961, 2.48744231))
        make_face()
        with BuildLine():
            ThreePointArc((0.848420249, 6.444391599), (0, 6.5), (-0.848420249, 6.444391599))
            Line((-0.848420249, 6.444391599), (-0.391578577, 2.974334584))
            ThreePointArc((-0.391578577, 2.974334584), (0, 3), (0.391578577, 2.974334584))
            Line((0.391578577, 2.974334584), (0.848420249, 6.444391599))
        make_face()
        Circle(SKETCH12_R)
    extrude(amount=-CUT_EXTRUDE1_DEPTH, mode=Mode.SUBTRACT)

    # Sketch13 → Boss-Extrude9 (add)
    with BuildSketch(Plane.ZY):
        with Locations((13.65, 2.75)):
            Rectangle(SKETCH13_W, SKETCH13_H)
    extrude(amount=BOSS_EXTRUDE9_DEPTH)

    # Sketch15 → Boss-Extrude11 (add)
    with BuildSketch(Plane(origin=(0, 0, -15), x_dir=(-1, 0, 0), z_dir=(0, 0, -1))):
        with Locations((6, 1.25)):
            Rectangle(SKETCH15_W, SKETCH15_H)
    extrude(amount=-BOSS_EXTRUDE11_DEPTH)

    # Sketch16 → Boss-Extrude12 (add)
    with BuildSketch(Plane(origin=(0, 12.5, 0), x_dir=(1, 0, 0), z_dir=(0, 1, 0))):
        with Locations((-7.660410987, 3.579973727)):
            Rectangle(SKETCH16_W, SKETCH16_H)
    extrude(amount=-BOSS_EXTRUDE12_DEPTH)

    # Sketch17 → Cut-Extrude2 (cut)
    with BuildSketch(Plane.XZ.offset(-9.5)):
        with Locations((-9.8, 13.65)):
            Rectangle(SKETCH17_W, SKETCH17_H)
    extrude(amount=-CUT_EXTRUDE2_DEPTH, mode=Mode.SUBTRACT)

    # Sketch18 → Cut-Extrude4 (cut, through all)
    with BuildSketch(Plane(origin=(0, 12.5, 0), x_dir=(1, 0, 0), z_dir=(0, 1, 0))):
        with Locations((-14, 1.05)):
            Rectangle(SKETCH18_W, SKETCH18_H)
    extrude(amount=-CUT_EXTRUDE4_DEPTH, mode=Mode.SUBTRACT)

    # Sketch19 → Boss-Extrude13 (add)
    with BuildSketch(Plane.XZ.offset(31.5)):
        with Locations((-14, 3.85)):
            Rectangle(SKETCH19_W, SKETCH19_H)
    extrude(amount=-BOSS_EXTRUDE13_DEPTH)

    # Sketch20 → Cut-Extrude5 (cut)
    with BuildSketch(Plane(origin=(0, 0, -15), x_dir=(-1, 0, 0), z_dir=(0, 0, -1))):
        with Locations((10, -6.5)):
            Rectangle(SKETCH20_W, SKETCH20_H)
    extrude(amount=-CUT_EXTRUDE5_DEPTH, mode=Mode.SUBTRACT)

    # Sketch21 → Cut-Extrude6 (cut, through all)
    with BuildSketch(Plane(origin=(0, 0, -15), x_dir=(-1, 0, 0), z_dir=(0, 0, -1))):
        with Locations((14, -28.6)):
            Rectangle(SKETCH21_W, SKETCH21_H)
    extrude(amount=-CUT_EXTRUDE6_DEPTH, mode=Mode.SUBTRACT)


solid = part.part
